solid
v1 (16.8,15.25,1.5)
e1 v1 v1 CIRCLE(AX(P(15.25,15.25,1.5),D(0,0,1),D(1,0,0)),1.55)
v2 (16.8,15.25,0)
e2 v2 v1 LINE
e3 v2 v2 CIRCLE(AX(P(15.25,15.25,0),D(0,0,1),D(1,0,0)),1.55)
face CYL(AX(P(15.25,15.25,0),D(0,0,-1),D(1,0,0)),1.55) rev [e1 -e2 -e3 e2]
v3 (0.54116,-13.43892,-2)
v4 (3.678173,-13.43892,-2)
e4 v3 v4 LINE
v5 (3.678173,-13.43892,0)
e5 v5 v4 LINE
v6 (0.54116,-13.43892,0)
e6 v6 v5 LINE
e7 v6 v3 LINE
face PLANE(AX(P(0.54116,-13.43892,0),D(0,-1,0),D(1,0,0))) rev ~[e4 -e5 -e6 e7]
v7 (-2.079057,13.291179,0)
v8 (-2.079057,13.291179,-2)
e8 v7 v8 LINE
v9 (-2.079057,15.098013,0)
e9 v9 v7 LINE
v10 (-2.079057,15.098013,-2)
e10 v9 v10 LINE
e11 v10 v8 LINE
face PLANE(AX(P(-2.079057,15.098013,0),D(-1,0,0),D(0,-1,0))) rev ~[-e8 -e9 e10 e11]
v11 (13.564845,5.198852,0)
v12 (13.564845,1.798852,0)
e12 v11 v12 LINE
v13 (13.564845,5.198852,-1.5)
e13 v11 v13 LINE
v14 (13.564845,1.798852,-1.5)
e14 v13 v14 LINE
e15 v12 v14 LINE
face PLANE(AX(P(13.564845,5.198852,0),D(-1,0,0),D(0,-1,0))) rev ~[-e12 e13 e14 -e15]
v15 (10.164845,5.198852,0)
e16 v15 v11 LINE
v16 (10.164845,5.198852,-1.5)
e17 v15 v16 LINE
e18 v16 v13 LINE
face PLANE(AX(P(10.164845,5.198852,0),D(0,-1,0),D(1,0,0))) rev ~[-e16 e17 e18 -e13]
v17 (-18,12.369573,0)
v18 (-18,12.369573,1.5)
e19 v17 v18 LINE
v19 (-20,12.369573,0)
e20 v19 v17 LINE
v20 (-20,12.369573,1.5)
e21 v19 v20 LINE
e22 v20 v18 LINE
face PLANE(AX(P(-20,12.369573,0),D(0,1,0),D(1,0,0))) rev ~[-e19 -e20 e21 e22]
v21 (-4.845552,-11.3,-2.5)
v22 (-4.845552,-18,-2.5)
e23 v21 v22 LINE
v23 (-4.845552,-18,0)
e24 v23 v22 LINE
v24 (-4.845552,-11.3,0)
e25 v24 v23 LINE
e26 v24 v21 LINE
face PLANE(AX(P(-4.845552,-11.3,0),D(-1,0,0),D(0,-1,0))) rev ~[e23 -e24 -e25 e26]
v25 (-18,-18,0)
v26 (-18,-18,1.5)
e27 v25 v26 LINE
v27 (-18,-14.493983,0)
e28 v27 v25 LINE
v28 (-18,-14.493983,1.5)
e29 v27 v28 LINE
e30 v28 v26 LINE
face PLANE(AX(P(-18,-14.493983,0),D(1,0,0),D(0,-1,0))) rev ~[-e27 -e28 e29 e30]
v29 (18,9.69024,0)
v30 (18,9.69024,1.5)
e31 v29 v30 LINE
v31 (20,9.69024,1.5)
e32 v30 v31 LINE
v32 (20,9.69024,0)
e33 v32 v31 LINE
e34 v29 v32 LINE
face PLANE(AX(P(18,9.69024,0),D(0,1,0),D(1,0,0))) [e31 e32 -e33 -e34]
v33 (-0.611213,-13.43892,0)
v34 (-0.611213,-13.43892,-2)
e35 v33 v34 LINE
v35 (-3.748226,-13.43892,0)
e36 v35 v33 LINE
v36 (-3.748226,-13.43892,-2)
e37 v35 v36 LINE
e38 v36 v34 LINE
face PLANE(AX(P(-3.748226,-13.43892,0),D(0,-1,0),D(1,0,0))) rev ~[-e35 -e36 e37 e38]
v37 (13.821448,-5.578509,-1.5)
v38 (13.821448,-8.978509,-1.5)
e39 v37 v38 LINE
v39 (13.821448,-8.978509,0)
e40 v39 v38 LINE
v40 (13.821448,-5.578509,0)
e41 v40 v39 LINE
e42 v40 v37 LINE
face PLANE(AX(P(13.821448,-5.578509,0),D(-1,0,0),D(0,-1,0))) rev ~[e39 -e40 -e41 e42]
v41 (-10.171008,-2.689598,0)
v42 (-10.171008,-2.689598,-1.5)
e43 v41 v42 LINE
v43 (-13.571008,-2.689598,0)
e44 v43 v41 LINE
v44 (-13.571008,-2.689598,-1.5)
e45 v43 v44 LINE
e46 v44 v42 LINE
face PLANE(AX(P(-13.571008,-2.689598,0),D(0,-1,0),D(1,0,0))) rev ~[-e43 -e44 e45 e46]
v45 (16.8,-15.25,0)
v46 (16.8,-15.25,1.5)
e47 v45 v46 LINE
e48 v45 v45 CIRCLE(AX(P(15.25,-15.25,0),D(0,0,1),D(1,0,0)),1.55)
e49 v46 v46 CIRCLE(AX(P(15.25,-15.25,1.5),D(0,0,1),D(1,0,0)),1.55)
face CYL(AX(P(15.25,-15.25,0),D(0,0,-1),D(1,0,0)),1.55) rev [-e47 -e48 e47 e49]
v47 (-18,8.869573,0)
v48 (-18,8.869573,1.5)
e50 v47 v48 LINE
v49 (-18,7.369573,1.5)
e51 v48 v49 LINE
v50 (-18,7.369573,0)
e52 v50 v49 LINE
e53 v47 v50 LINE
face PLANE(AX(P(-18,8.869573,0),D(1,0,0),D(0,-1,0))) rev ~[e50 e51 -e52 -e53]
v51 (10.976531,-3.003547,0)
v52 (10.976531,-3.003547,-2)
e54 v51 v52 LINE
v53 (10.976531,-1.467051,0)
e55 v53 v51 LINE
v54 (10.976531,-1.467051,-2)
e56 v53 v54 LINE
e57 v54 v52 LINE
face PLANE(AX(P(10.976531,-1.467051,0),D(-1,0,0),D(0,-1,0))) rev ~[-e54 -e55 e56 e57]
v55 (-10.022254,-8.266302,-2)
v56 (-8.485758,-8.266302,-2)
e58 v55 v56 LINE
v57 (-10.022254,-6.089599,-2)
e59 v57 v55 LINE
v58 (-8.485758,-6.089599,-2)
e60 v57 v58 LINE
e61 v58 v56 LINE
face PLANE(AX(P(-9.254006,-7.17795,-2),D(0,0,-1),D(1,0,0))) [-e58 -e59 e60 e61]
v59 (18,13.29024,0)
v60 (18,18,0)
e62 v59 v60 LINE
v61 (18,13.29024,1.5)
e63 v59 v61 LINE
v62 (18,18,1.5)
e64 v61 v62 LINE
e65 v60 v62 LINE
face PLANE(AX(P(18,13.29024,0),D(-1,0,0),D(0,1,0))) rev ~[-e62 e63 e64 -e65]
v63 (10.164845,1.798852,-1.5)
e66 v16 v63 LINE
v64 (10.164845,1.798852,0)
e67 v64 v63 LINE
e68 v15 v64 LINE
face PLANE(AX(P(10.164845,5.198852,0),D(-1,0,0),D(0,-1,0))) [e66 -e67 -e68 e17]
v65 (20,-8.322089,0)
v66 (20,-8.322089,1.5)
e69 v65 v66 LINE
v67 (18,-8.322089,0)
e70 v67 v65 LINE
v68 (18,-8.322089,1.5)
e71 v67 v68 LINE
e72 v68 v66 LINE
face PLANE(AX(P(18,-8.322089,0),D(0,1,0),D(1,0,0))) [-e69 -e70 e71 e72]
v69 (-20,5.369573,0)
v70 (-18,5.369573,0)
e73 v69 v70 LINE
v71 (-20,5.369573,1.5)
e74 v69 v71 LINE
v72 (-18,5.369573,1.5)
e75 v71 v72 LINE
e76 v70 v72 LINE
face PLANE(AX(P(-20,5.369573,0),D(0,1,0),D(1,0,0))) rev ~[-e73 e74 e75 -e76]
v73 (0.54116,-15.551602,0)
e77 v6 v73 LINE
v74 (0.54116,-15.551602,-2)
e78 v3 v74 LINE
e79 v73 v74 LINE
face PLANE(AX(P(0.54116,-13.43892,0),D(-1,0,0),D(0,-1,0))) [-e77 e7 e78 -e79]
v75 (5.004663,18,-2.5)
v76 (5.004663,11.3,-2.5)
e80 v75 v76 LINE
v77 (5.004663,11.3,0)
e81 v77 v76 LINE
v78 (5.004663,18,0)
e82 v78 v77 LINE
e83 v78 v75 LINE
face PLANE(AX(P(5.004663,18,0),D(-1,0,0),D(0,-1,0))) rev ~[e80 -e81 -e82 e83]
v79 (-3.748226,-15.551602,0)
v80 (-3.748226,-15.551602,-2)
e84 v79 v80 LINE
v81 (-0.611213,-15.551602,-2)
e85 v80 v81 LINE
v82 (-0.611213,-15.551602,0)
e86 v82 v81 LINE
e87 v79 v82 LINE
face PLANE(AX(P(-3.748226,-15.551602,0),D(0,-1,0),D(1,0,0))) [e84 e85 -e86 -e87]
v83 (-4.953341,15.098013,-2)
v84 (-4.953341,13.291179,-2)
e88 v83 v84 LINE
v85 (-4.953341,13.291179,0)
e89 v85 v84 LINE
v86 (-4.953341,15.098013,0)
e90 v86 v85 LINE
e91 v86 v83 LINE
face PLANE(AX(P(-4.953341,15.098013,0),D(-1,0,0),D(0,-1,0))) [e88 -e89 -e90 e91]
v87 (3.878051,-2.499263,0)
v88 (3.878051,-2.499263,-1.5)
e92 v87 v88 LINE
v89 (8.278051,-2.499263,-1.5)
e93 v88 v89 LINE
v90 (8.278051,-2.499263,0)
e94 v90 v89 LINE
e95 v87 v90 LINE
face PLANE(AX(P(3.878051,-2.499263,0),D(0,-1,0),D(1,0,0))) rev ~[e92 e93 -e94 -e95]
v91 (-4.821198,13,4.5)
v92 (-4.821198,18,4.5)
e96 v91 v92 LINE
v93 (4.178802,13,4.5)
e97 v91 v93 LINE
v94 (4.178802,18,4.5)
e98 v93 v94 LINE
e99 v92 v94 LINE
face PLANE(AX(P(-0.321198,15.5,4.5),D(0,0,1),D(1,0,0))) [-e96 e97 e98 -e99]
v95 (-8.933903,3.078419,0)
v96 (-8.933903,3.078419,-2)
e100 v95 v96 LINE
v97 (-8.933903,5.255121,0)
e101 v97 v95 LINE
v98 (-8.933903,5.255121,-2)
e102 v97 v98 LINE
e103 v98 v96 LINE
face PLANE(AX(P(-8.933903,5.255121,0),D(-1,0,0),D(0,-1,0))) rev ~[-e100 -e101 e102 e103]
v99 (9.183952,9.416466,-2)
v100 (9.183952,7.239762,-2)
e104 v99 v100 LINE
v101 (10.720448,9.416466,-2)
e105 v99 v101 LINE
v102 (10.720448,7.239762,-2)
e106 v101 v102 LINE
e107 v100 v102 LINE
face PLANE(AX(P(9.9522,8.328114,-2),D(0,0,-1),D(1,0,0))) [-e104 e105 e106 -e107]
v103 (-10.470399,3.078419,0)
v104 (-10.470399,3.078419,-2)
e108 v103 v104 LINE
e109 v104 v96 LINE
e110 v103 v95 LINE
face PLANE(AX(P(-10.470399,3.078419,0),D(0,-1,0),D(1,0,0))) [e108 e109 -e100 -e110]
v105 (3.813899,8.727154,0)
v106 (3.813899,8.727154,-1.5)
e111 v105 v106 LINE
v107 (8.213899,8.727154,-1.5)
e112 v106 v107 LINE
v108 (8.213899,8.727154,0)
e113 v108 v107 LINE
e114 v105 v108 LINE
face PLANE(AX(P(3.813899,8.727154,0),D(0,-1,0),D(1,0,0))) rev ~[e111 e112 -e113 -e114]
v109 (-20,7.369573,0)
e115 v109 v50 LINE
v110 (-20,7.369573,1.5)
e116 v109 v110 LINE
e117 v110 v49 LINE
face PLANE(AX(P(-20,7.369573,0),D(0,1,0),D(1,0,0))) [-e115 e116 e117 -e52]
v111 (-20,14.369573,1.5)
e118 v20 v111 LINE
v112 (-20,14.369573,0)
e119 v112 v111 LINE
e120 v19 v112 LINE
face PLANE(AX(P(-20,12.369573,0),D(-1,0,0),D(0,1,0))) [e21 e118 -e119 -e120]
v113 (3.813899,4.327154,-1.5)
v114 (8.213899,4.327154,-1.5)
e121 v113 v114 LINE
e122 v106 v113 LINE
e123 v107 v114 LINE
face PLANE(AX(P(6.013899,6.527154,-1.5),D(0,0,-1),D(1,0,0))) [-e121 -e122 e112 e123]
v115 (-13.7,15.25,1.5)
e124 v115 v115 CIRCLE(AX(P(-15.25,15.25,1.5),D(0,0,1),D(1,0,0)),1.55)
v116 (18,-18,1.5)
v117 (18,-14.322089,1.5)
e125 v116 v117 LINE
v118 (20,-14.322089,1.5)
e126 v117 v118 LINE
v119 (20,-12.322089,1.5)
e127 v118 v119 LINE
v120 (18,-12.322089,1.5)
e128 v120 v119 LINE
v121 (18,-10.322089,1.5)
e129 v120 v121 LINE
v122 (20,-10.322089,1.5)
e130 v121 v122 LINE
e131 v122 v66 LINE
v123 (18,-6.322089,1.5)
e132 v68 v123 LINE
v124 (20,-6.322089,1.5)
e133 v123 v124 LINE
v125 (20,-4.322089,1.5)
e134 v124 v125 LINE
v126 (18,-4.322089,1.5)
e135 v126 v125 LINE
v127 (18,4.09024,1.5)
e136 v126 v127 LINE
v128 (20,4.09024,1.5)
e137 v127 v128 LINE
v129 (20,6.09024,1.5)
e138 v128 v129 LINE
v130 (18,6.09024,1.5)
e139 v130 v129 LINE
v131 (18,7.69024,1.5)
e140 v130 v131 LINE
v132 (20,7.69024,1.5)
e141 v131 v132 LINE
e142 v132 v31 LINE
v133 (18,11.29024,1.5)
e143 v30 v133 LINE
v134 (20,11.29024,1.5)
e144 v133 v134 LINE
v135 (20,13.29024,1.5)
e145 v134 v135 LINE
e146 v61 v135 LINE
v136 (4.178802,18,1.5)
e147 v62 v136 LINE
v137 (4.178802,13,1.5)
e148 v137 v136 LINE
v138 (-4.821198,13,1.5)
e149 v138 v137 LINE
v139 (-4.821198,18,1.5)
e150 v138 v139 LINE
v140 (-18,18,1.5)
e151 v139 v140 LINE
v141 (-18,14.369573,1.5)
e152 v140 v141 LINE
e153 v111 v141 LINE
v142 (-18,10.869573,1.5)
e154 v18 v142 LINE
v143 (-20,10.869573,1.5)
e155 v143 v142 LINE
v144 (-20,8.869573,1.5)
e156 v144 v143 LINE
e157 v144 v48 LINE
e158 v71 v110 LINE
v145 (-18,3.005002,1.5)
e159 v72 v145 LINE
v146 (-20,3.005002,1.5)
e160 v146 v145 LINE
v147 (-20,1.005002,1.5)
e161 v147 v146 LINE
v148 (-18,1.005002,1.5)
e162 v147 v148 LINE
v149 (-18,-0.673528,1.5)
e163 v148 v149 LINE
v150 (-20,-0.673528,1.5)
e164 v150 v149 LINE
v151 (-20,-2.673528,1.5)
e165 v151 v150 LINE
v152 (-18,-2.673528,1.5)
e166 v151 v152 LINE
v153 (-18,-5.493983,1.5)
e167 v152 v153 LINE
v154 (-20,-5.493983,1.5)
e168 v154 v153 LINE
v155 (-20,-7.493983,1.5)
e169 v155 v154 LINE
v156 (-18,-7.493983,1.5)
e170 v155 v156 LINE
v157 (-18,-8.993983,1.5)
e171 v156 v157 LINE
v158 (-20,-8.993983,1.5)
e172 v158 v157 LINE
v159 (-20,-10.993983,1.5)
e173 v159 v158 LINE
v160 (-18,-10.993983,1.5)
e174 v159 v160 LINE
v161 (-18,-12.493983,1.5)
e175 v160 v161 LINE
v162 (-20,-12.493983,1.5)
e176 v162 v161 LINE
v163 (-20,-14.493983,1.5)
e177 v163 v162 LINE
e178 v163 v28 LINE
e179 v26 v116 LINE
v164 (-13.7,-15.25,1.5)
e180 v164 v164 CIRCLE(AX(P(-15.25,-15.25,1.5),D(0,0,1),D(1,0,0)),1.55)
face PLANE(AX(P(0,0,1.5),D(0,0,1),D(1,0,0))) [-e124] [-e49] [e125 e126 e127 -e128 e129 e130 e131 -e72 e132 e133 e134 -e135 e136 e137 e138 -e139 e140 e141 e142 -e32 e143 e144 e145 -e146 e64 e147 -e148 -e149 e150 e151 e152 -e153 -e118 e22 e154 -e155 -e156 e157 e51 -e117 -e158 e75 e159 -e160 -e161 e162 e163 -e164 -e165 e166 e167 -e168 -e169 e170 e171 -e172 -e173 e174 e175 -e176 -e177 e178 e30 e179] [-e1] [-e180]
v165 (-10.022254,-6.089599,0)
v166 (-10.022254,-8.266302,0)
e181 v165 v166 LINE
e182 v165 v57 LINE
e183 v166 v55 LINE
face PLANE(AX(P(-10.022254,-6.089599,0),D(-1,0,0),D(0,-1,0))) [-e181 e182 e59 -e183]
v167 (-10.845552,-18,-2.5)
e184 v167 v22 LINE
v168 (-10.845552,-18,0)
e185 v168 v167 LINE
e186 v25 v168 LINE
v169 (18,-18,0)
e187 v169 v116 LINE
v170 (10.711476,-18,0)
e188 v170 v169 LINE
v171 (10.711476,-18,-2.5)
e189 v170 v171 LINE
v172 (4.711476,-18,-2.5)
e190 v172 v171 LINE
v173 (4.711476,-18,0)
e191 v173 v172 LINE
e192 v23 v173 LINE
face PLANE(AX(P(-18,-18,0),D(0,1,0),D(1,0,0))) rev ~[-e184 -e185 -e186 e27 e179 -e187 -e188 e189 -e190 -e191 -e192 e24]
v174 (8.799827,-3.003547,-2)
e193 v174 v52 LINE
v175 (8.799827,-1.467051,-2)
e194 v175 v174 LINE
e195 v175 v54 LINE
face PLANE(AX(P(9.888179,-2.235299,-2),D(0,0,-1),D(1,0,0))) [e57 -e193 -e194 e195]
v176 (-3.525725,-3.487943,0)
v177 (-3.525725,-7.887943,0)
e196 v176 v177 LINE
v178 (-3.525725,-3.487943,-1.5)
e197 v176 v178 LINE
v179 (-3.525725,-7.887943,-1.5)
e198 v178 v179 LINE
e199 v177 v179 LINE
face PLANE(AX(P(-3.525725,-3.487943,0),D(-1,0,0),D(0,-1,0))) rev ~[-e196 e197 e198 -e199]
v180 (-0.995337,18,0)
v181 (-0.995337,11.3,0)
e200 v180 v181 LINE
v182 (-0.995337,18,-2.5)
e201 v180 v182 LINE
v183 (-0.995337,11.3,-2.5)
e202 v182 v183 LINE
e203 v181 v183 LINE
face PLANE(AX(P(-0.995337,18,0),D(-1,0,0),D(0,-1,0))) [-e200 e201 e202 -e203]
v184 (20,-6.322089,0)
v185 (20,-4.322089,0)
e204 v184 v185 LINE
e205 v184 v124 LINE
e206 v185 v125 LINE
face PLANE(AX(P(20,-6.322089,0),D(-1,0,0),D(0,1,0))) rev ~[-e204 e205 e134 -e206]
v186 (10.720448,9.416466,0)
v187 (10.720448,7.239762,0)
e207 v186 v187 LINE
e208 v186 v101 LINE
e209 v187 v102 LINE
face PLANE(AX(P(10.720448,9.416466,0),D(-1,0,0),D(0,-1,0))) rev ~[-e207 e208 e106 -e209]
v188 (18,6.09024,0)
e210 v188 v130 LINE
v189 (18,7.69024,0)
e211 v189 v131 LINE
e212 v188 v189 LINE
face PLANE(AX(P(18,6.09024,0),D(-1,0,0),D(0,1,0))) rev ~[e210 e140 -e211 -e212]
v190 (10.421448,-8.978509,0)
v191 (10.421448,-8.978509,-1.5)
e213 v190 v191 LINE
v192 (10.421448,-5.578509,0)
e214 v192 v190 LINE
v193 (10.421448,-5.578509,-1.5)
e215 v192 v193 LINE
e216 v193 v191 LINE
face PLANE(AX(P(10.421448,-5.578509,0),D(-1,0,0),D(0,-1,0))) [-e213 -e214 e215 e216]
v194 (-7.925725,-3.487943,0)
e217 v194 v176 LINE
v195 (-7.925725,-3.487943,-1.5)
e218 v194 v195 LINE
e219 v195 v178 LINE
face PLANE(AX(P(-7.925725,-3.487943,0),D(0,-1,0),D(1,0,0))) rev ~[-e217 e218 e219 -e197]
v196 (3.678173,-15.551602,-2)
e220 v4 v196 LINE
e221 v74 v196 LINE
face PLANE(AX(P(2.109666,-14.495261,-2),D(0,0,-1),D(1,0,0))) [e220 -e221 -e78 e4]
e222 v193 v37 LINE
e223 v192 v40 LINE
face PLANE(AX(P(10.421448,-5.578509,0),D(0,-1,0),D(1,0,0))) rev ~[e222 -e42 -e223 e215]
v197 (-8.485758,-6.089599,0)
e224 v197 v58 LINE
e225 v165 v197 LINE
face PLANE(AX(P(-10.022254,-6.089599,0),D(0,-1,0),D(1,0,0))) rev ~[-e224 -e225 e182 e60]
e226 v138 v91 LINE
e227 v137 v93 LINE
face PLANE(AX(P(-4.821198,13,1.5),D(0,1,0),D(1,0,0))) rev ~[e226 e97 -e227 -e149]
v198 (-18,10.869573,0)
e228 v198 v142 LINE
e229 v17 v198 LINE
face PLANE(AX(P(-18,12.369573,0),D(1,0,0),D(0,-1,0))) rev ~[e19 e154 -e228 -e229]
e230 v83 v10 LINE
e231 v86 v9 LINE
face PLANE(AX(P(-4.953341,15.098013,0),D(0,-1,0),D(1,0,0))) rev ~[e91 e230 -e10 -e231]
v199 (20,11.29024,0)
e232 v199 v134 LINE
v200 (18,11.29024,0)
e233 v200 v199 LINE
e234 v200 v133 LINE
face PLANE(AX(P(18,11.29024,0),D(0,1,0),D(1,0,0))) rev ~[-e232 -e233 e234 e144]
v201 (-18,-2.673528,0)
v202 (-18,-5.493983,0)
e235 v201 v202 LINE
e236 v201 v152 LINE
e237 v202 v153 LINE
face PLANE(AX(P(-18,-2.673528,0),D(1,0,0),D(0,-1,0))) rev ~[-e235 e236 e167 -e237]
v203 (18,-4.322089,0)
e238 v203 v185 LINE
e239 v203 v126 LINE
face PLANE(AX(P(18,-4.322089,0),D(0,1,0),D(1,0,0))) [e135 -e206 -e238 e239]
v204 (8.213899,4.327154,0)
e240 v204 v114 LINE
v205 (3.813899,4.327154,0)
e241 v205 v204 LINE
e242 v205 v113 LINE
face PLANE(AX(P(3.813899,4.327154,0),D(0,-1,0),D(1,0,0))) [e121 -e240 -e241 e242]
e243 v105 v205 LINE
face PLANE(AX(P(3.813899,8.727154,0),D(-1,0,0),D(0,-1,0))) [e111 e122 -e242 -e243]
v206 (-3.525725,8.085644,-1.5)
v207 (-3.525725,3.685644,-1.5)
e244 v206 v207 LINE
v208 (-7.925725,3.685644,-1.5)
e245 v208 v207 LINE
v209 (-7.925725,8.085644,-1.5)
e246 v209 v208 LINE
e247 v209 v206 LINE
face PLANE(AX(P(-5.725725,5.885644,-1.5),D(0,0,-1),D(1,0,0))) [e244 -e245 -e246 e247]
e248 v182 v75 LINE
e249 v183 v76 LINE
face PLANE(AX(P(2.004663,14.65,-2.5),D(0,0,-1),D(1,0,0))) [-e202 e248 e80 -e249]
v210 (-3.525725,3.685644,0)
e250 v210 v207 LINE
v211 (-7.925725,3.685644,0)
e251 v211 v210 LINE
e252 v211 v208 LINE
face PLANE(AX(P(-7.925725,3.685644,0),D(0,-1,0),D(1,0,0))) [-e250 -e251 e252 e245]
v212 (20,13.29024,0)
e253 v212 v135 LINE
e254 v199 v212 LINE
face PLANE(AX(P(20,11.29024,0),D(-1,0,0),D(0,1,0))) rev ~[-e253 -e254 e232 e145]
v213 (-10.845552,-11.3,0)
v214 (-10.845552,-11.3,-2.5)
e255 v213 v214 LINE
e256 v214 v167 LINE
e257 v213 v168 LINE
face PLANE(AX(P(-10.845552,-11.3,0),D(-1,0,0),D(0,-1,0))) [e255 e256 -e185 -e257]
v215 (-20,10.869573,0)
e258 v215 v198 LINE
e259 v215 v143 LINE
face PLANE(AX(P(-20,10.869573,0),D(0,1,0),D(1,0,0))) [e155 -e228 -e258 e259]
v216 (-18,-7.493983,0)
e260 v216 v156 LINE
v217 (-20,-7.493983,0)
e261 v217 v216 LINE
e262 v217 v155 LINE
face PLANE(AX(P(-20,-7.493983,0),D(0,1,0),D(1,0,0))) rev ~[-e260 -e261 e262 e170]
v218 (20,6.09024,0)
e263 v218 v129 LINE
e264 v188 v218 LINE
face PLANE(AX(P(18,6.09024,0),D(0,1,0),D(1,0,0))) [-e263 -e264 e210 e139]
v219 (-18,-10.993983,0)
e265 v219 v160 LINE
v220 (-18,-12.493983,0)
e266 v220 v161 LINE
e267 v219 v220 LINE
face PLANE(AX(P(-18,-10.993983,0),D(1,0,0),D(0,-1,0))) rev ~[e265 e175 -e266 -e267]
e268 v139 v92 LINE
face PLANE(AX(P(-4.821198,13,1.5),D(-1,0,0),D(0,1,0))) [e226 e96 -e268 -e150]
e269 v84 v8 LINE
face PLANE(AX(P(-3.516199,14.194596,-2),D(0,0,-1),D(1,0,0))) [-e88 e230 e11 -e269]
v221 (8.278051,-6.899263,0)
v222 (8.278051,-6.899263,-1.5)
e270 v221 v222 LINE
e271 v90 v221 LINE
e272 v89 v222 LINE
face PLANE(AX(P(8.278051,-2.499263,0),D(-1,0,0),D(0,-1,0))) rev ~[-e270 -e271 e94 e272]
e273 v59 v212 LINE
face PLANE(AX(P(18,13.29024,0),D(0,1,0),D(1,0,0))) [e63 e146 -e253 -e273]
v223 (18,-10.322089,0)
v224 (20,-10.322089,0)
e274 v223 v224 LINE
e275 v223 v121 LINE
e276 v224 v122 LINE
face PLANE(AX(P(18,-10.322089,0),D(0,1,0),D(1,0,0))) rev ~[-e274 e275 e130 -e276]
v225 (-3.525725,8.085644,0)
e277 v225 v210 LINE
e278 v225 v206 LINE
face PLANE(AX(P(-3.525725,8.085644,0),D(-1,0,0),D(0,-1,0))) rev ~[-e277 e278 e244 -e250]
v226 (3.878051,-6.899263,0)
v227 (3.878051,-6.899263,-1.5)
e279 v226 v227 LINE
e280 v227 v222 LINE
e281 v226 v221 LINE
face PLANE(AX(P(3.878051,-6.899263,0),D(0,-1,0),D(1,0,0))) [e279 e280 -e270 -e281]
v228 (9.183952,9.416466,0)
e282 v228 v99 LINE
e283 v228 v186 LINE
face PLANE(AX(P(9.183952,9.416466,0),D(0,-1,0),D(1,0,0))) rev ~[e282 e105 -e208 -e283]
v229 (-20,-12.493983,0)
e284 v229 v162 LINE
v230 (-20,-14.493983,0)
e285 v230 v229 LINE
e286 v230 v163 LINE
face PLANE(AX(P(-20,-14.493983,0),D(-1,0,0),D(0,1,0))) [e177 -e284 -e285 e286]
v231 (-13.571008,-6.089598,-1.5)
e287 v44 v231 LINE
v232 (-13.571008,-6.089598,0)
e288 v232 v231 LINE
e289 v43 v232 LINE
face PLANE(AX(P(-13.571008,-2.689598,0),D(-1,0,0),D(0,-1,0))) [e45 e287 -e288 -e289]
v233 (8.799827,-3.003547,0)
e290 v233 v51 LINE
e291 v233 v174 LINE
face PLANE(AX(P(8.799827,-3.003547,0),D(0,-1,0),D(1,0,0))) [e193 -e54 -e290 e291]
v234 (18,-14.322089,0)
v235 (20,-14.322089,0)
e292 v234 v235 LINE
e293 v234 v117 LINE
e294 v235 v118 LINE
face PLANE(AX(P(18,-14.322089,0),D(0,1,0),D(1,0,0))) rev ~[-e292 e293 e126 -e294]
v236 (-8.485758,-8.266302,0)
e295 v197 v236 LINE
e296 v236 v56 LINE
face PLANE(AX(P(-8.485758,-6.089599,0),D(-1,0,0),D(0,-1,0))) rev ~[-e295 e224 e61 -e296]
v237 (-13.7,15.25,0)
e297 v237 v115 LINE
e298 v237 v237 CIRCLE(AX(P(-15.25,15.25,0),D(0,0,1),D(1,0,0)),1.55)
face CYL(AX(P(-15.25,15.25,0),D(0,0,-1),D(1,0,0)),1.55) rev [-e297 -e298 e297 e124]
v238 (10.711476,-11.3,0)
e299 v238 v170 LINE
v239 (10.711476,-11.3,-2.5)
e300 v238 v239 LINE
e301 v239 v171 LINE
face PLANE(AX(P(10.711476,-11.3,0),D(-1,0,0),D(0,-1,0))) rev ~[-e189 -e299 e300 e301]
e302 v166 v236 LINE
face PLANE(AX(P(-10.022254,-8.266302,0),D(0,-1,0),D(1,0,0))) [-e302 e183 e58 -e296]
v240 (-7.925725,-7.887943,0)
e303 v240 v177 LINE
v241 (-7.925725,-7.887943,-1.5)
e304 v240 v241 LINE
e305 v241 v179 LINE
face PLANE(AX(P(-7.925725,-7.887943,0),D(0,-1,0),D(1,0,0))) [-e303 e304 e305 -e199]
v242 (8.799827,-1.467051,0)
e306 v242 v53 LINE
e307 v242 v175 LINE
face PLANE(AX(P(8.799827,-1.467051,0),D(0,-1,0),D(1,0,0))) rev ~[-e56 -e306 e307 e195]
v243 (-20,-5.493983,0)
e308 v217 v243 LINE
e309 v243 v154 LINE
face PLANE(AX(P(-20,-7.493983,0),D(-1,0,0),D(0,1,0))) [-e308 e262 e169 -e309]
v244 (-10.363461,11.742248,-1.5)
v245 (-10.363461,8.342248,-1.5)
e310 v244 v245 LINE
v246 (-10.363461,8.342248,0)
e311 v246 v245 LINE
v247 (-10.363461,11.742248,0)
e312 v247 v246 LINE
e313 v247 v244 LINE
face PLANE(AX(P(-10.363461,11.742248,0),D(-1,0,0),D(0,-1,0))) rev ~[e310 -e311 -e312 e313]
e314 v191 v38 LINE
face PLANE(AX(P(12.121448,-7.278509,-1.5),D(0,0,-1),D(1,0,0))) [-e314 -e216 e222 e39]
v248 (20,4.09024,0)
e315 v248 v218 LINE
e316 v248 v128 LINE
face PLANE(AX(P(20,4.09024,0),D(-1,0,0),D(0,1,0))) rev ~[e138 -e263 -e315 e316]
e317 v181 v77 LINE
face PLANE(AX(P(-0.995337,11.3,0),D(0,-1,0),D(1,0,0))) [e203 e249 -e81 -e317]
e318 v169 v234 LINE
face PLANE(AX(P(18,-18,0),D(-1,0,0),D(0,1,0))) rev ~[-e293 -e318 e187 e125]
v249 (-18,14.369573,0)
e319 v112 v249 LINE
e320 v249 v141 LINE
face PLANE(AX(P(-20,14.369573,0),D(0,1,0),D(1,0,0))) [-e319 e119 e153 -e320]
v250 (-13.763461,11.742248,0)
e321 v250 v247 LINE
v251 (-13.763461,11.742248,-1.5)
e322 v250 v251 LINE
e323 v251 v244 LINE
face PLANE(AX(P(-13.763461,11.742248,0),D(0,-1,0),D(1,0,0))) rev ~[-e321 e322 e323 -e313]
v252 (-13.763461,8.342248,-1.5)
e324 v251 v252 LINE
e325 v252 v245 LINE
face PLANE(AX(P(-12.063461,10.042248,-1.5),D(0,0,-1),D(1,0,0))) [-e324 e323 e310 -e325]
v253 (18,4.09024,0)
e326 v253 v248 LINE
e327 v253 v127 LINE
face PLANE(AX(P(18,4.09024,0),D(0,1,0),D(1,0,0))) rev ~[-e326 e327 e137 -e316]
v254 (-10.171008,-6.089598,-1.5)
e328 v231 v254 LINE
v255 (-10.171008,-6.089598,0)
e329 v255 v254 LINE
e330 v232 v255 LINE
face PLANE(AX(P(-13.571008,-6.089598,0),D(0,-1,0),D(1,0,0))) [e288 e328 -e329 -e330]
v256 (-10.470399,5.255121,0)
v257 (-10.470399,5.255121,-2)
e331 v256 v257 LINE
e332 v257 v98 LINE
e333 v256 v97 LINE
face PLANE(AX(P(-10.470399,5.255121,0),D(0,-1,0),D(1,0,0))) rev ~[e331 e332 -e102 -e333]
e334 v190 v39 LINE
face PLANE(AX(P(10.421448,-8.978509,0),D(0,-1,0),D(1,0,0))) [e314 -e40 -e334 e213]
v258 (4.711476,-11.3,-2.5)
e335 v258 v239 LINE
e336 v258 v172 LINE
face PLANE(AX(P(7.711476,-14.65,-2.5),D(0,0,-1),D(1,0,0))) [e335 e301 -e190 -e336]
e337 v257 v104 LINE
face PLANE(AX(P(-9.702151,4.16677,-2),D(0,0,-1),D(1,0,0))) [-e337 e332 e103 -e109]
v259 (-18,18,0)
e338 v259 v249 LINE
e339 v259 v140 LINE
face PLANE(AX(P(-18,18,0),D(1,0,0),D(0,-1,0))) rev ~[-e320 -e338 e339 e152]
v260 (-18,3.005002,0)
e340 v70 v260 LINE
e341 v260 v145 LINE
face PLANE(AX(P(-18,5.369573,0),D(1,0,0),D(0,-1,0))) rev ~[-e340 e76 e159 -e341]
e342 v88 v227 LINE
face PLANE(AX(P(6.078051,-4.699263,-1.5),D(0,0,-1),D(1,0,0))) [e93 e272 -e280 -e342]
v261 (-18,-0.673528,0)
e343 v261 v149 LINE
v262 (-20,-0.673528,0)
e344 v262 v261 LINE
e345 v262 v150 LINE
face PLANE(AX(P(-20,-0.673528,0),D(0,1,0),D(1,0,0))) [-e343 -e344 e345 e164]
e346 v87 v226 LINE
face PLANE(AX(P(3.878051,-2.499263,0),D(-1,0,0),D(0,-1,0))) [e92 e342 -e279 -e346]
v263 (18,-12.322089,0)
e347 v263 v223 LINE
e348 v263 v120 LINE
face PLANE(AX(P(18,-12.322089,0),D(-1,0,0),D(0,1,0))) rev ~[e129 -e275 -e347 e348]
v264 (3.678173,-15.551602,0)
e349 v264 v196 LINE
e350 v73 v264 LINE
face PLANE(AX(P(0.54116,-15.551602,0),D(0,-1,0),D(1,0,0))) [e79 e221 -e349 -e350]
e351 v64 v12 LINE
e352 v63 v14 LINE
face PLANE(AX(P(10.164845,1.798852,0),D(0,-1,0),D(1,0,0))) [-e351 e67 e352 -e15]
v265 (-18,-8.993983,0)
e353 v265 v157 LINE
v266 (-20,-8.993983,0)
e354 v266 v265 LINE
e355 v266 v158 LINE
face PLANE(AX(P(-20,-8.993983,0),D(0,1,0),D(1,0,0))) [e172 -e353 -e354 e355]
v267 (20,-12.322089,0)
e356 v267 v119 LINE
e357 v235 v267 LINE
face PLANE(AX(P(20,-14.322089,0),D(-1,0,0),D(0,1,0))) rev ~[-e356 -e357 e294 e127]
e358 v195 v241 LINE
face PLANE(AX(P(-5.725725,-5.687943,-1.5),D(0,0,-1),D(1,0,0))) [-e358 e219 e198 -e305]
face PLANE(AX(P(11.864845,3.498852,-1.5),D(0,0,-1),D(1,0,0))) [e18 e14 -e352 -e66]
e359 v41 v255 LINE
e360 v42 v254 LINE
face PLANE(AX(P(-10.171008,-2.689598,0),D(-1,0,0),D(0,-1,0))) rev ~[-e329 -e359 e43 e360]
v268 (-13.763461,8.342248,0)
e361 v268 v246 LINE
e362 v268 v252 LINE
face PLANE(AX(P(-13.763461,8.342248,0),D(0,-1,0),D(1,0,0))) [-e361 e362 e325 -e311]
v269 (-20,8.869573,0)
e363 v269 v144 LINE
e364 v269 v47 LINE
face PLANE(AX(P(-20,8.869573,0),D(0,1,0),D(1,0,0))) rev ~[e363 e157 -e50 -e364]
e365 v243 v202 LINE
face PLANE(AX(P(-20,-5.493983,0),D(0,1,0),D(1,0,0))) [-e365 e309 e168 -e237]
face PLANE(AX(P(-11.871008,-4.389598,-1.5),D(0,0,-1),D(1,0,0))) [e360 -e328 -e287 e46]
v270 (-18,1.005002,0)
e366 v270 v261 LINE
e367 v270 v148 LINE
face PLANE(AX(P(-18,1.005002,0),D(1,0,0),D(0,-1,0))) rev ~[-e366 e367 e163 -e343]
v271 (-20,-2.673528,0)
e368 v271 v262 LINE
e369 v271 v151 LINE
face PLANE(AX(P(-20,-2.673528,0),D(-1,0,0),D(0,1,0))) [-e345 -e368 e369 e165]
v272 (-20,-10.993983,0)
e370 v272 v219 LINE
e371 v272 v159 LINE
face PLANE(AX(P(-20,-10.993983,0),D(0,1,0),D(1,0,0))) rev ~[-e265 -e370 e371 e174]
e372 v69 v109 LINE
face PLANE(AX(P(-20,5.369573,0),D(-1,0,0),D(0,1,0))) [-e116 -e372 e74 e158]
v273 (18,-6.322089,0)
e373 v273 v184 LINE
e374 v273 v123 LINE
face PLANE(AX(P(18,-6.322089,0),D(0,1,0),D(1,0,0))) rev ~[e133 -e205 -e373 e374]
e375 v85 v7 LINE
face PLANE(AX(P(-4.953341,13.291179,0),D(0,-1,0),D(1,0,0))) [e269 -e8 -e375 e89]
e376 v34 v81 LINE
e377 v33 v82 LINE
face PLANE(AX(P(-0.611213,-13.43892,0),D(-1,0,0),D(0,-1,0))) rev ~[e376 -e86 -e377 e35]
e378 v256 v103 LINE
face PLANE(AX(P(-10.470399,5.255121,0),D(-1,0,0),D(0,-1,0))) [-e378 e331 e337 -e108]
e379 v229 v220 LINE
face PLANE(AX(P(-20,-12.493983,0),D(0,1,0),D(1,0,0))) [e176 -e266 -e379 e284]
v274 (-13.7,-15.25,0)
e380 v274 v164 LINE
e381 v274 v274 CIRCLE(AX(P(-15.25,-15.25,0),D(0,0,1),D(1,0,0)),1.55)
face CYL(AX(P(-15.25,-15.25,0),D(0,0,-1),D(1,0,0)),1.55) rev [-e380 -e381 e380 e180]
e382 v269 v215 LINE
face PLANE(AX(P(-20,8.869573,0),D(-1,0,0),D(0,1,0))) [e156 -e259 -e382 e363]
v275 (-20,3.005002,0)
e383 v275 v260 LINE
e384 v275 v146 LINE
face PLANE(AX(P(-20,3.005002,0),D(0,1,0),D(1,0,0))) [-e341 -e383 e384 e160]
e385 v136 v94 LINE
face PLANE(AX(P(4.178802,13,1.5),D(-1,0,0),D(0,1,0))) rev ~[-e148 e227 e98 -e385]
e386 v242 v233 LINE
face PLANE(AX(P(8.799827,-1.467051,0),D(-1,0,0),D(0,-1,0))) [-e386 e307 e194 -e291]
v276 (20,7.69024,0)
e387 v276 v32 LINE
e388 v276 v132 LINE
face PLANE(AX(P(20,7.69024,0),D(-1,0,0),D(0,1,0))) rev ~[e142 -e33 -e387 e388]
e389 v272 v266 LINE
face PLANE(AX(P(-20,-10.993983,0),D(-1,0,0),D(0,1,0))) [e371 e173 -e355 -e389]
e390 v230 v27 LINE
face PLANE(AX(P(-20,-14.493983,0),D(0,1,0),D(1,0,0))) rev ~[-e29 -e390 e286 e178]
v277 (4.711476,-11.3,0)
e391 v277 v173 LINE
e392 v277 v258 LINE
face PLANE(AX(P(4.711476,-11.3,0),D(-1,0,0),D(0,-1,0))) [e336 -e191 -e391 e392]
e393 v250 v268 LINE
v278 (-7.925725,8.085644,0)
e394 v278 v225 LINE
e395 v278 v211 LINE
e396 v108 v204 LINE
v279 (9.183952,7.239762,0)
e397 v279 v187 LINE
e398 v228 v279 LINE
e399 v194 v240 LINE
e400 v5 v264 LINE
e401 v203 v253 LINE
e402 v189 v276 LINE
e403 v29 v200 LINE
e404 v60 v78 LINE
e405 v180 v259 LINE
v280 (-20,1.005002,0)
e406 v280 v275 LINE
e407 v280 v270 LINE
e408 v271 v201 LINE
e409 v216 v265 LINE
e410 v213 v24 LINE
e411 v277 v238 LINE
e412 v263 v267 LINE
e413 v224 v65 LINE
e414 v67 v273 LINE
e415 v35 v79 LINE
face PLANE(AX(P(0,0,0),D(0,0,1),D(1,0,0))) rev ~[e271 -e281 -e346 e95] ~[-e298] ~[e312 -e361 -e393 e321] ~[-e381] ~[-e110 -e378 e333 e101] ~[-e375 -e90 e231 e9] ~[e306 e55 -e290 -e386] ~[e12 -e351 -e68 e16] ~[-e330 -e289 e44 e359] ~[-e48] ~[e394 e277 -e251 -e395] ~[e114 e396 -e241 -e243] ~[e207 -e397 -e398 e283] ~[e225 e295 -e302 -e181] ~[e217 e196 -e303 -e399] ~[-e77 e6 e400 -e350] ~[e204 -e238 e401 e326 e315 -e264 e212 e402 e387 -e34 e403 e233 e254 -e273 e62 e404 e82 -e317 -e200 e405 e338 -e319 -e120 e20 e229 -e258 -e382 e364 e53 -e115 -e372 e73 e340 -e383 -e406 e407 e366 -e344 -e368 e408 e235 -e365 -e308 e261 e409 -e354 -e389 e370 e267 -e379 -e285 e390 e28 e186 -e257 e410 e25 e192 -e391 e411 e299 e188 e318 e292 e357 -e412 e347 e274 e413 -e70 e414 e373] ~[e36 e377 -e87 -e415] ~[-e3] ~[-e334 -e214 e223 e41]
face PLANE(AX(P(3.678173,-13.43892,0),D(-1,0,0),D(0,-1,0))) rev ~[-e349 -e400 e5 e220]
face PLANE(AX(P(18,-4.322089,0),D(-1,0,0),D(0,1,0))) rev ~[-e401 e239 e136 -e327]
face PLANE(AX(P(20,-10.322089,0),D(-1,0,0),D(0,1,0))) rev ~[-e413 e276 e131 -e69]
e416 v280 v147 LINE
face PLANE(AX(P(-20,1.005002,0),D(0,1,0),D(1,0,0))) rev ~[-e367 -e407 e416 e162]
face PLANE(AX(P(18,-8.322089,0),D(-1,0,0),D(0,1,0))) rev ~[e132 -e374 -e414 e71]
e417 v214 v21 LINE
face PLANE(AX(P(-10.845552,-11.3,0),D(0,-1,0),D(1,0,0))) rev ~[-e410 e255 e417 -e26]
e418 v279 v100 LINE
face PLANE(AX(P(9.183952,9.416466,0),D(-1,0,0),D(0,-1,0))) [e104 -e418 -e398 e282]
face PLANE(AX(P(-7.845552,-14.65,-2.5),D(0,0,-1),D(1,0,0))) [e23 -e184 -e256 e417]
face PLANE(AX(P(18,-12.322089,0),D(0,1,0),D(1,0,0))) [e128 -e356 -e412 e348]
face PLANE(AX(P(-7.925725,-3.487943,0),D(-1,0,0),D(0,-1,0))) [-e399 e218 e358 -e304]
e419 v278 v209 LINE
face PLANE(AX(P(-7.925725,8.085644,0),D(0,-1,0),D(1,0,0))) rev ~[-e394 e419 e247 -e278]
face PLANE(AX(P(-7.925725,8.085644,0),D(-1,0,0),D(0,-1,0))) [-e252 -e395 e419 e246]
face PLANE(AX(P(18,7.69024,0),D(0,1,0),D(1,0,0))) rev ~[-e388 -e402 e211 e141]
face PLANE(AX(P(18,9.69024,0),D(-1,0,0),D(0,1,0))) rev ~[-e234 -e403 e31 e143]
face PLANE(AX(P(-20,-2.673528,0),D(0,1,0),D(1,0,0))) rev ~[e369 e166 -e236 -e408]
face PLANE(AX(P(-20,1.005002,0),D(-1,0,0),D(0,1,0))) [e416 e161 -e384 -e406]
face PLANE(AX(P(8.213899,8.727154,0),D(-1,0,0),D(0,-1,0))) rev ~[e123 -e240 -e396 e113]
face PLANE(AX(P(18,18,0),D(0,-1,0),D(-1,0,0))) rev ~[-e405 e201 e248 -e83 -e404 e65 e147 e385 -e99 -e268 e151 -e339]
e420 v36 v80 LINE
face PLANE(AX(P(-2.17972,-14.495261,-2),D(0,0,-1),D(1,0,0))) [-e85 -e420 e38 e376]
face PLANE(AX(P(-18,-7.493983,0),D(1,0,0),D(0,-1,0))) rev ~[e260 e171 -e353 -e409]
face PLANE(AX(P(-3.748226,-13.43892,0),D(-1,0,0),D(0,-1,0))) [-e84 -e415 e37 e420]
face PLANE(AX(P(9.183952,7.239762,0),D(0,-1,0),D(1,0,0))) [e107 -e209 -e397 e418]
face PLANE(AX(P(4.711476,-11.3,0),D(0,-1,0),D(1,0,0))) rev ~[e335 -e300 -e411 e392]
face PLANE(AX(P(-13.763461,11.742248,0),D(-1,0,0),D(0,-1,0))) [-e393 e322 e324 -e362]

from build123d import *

# Parameters (mm, degrees)
F2_R     = 1.55
F2_W     = 2
F2_H     = 2
F3_DEPTH = 1.5
F4_W     = 9
F4_H     = 5
F5_DEPTH = 3
F6_W     = 6
F6_H     = 6.7
F7_DEPTH = 2.5
F6_W_2   = 3.4
F6_H_2   = 3.4
F6_W_3   = 4.4
F6_H_3   = 4.4
F8_DEPTH = 1.5
F6_W_4   = 1.536496
F6_H_4   = 2.176703
F6_H_5   = 2.176704
F6_W_5   = 2.874283
F6_H_6   = 1.806834
F6_W_6   = 2.176703
F6_H_7   = 1.536496
F6_W_7   = 3.137013
F6_H_8   = 2.112682
F9_DEPTH = 2


with BuildPart() as f3:
    # F2 (on Top) → F3 (new body)
    with BuildSketch(Plane.XY):
        Polygon((18, 18), (-18, 18), (-18, 14.369573), (-18, 12.369573), (-18, 10.869573), (-18, 8.869573), (-18, 7.369573), (-18, 5.369573), (-18, 3.005002), (-18, 1.005002), (-18, -0.673528), (-18, -2.673528), (-18, -5.493983), (-18, -7.493983), (-18, -8.993983), (-18, -10.993983), (-18, -12.493983), (-18, -14.493983), (-18, -18), (18, -18), (18, -14.322089), (18, -12.322089), (18, -10.322089), (18, -8.322089), (18, -6.322089), (18, -4.322089), (18, 4.09024), (18, 6.09024), (18, 7.69024), (18, 9.69024), (18, 11.29024), (18, 13.29024), align=None)
        with Locations((-15.25, -15.25)):
            Circle(F2_R, mode=Mode.SUBTRACT)
        with Locations((15.25, -15.25)):
            Circle(F2_R, mode=Mode.SUBTRACT)
        with Locations((-15.25, 15.25)):
            Circle(F2_R, mode=Mode.SUBTRACT)
        with Locations((15.25, 15.25)):
            Circle(F2_R, mode=Mode.SUBTRACT)
        with Locations((-19, 13.369573)):
            Rectangle(F2_W, F2_H)
        with Locations((19, 12.29024)):
            Rectangle(F2_W, F2_H)
        with Locations((-19, 9.869573)):
            Rectangle(F2_W, F2_H)
        with Locations((19, 8.69024)):
            Rectangle(F2_W, F2_H)
        with Locations((-19, 6.369573)):
            Rectangle(F2_W, F2_H)
        with Locations((19, 5.09024)):
            Rectangle(F2_W, F2_H)
        with Locations((-19, 2.005002)):
            Rectangle(F2_W, F2_H)
        with Locations((19, -5.322089)):
            Rectangle(F2_W, F2_H)
        with Locations((-19, -1.673528)):
            Rectangle(F2_W, F2_H)
        with Locations((19, -9.322089)):
            Rectangle(F2_W, F2_H)
        with Locations((-19, -6.493983)):
            Rectangle(F2_W, F2_H)
        with Locations((19, -13.322089)):
            Rectangle(F2_W, F2_H)
        with Locations((-19, -9.993983)):
            Rectangle(F2_W, F2_H)
        with Locations((-19, -13.493983)):
            Rectangle(F2_W, F2_H)
    extrude(amount=F3_DEPTH)

    # F4 (on face) → F5 (join)
    with BuildSketch(Plane.XY.offset(1.5)):
        with Locations((-0.321198, 15.5)):
            Rectangle(F4_W, F4_H)
    extrude(amount=F5_DEPTH)

    # F6 (on face) → F7 (join)
    with BuildSketch(Plane(origin=(0, 0, 0), x_dir=(1, 0, 0), z_dir=(0, 0, -1))):
        with Locations((2.004663, -14.65)):
            Rectangle(F6_W, F6_H)
        with Locations((-7.845552, 14.65)):
            Rectangle(F6_W, F6_H)
        with Locations((7.711476, 14.65)):
            Rectangle(F6_W, F6_H)
    extrude(amount=F7_DEPTH)

    # F6 (on face) → F8 (join)
    with BuildSketch(Plane(origin=(0, 0, 0), x_dir=(1, 0, 0), z_dir=(0, 0, -1))):
        with Locations((-12.063461, -10.042248)):
            Rectangle(F6_W_2, F6_H_2)
        with Locations((-5.725725, -5.885644)):
            Rectangle(F6_W_3, F6_H_3)
        with Locations((6.013899, -6.527154)):
            Rectangle(F6_W_3, F6_H_3)
        with Locations((11.864845, -3.498852)):
            Rectangle(F6_W_2, F6_H_2)
        with Locations((12.121448, 7.278509)):
            Rectangle(F6_W_2, F6_H_2)
        with Locations((6.078051, 4.699263)):
            Rectangle(F6_W_3, F6_H_3)
        with Locations((-5.725725, 5.687943)):
            Rectangle(F6_W_3, F6_H_3)
        with Locations((-11.871008, 4.389598)):
            Rectangle(F6_W_2, F6_H_2)
    extrude(amount=F8_DEPTH)

    # F6 (on face) → F9 (join)
    with BuildSketch(Plane(origin=(0, 0, 0), x_dir=(1, 0, 0), z_dir=(0, 0, -1))):
        with Locations((-9.702151, -4.16677)):
            Rectangle(F6_W_4, F6_H_4)
        with Locations((-9.254006, 7.17795)):
            Rectangle(F6_W_4, F6_H_4)
        with Locations((9.9522, -8.328114)):
            Rectangle(F6_W_4, F6_H_5)
        with Locations((-3.516199, -14.194596)):
            Rectangle(F6_W_5, F6_H_6)
        with Locations((9.888179, 2.235299)):
            Rectangle(F6_W_6, F6_H_7)
        with Locations((-2.17972, 14.495261)):
            Rectangle(F6_W_7, F6_H_8)
        with Locations((2.109666, 14.495261)):
            Rectangle(F6_W_7, F6_H_8)
    extrude(amount=F9_DEPTH)


solid = f3.part
